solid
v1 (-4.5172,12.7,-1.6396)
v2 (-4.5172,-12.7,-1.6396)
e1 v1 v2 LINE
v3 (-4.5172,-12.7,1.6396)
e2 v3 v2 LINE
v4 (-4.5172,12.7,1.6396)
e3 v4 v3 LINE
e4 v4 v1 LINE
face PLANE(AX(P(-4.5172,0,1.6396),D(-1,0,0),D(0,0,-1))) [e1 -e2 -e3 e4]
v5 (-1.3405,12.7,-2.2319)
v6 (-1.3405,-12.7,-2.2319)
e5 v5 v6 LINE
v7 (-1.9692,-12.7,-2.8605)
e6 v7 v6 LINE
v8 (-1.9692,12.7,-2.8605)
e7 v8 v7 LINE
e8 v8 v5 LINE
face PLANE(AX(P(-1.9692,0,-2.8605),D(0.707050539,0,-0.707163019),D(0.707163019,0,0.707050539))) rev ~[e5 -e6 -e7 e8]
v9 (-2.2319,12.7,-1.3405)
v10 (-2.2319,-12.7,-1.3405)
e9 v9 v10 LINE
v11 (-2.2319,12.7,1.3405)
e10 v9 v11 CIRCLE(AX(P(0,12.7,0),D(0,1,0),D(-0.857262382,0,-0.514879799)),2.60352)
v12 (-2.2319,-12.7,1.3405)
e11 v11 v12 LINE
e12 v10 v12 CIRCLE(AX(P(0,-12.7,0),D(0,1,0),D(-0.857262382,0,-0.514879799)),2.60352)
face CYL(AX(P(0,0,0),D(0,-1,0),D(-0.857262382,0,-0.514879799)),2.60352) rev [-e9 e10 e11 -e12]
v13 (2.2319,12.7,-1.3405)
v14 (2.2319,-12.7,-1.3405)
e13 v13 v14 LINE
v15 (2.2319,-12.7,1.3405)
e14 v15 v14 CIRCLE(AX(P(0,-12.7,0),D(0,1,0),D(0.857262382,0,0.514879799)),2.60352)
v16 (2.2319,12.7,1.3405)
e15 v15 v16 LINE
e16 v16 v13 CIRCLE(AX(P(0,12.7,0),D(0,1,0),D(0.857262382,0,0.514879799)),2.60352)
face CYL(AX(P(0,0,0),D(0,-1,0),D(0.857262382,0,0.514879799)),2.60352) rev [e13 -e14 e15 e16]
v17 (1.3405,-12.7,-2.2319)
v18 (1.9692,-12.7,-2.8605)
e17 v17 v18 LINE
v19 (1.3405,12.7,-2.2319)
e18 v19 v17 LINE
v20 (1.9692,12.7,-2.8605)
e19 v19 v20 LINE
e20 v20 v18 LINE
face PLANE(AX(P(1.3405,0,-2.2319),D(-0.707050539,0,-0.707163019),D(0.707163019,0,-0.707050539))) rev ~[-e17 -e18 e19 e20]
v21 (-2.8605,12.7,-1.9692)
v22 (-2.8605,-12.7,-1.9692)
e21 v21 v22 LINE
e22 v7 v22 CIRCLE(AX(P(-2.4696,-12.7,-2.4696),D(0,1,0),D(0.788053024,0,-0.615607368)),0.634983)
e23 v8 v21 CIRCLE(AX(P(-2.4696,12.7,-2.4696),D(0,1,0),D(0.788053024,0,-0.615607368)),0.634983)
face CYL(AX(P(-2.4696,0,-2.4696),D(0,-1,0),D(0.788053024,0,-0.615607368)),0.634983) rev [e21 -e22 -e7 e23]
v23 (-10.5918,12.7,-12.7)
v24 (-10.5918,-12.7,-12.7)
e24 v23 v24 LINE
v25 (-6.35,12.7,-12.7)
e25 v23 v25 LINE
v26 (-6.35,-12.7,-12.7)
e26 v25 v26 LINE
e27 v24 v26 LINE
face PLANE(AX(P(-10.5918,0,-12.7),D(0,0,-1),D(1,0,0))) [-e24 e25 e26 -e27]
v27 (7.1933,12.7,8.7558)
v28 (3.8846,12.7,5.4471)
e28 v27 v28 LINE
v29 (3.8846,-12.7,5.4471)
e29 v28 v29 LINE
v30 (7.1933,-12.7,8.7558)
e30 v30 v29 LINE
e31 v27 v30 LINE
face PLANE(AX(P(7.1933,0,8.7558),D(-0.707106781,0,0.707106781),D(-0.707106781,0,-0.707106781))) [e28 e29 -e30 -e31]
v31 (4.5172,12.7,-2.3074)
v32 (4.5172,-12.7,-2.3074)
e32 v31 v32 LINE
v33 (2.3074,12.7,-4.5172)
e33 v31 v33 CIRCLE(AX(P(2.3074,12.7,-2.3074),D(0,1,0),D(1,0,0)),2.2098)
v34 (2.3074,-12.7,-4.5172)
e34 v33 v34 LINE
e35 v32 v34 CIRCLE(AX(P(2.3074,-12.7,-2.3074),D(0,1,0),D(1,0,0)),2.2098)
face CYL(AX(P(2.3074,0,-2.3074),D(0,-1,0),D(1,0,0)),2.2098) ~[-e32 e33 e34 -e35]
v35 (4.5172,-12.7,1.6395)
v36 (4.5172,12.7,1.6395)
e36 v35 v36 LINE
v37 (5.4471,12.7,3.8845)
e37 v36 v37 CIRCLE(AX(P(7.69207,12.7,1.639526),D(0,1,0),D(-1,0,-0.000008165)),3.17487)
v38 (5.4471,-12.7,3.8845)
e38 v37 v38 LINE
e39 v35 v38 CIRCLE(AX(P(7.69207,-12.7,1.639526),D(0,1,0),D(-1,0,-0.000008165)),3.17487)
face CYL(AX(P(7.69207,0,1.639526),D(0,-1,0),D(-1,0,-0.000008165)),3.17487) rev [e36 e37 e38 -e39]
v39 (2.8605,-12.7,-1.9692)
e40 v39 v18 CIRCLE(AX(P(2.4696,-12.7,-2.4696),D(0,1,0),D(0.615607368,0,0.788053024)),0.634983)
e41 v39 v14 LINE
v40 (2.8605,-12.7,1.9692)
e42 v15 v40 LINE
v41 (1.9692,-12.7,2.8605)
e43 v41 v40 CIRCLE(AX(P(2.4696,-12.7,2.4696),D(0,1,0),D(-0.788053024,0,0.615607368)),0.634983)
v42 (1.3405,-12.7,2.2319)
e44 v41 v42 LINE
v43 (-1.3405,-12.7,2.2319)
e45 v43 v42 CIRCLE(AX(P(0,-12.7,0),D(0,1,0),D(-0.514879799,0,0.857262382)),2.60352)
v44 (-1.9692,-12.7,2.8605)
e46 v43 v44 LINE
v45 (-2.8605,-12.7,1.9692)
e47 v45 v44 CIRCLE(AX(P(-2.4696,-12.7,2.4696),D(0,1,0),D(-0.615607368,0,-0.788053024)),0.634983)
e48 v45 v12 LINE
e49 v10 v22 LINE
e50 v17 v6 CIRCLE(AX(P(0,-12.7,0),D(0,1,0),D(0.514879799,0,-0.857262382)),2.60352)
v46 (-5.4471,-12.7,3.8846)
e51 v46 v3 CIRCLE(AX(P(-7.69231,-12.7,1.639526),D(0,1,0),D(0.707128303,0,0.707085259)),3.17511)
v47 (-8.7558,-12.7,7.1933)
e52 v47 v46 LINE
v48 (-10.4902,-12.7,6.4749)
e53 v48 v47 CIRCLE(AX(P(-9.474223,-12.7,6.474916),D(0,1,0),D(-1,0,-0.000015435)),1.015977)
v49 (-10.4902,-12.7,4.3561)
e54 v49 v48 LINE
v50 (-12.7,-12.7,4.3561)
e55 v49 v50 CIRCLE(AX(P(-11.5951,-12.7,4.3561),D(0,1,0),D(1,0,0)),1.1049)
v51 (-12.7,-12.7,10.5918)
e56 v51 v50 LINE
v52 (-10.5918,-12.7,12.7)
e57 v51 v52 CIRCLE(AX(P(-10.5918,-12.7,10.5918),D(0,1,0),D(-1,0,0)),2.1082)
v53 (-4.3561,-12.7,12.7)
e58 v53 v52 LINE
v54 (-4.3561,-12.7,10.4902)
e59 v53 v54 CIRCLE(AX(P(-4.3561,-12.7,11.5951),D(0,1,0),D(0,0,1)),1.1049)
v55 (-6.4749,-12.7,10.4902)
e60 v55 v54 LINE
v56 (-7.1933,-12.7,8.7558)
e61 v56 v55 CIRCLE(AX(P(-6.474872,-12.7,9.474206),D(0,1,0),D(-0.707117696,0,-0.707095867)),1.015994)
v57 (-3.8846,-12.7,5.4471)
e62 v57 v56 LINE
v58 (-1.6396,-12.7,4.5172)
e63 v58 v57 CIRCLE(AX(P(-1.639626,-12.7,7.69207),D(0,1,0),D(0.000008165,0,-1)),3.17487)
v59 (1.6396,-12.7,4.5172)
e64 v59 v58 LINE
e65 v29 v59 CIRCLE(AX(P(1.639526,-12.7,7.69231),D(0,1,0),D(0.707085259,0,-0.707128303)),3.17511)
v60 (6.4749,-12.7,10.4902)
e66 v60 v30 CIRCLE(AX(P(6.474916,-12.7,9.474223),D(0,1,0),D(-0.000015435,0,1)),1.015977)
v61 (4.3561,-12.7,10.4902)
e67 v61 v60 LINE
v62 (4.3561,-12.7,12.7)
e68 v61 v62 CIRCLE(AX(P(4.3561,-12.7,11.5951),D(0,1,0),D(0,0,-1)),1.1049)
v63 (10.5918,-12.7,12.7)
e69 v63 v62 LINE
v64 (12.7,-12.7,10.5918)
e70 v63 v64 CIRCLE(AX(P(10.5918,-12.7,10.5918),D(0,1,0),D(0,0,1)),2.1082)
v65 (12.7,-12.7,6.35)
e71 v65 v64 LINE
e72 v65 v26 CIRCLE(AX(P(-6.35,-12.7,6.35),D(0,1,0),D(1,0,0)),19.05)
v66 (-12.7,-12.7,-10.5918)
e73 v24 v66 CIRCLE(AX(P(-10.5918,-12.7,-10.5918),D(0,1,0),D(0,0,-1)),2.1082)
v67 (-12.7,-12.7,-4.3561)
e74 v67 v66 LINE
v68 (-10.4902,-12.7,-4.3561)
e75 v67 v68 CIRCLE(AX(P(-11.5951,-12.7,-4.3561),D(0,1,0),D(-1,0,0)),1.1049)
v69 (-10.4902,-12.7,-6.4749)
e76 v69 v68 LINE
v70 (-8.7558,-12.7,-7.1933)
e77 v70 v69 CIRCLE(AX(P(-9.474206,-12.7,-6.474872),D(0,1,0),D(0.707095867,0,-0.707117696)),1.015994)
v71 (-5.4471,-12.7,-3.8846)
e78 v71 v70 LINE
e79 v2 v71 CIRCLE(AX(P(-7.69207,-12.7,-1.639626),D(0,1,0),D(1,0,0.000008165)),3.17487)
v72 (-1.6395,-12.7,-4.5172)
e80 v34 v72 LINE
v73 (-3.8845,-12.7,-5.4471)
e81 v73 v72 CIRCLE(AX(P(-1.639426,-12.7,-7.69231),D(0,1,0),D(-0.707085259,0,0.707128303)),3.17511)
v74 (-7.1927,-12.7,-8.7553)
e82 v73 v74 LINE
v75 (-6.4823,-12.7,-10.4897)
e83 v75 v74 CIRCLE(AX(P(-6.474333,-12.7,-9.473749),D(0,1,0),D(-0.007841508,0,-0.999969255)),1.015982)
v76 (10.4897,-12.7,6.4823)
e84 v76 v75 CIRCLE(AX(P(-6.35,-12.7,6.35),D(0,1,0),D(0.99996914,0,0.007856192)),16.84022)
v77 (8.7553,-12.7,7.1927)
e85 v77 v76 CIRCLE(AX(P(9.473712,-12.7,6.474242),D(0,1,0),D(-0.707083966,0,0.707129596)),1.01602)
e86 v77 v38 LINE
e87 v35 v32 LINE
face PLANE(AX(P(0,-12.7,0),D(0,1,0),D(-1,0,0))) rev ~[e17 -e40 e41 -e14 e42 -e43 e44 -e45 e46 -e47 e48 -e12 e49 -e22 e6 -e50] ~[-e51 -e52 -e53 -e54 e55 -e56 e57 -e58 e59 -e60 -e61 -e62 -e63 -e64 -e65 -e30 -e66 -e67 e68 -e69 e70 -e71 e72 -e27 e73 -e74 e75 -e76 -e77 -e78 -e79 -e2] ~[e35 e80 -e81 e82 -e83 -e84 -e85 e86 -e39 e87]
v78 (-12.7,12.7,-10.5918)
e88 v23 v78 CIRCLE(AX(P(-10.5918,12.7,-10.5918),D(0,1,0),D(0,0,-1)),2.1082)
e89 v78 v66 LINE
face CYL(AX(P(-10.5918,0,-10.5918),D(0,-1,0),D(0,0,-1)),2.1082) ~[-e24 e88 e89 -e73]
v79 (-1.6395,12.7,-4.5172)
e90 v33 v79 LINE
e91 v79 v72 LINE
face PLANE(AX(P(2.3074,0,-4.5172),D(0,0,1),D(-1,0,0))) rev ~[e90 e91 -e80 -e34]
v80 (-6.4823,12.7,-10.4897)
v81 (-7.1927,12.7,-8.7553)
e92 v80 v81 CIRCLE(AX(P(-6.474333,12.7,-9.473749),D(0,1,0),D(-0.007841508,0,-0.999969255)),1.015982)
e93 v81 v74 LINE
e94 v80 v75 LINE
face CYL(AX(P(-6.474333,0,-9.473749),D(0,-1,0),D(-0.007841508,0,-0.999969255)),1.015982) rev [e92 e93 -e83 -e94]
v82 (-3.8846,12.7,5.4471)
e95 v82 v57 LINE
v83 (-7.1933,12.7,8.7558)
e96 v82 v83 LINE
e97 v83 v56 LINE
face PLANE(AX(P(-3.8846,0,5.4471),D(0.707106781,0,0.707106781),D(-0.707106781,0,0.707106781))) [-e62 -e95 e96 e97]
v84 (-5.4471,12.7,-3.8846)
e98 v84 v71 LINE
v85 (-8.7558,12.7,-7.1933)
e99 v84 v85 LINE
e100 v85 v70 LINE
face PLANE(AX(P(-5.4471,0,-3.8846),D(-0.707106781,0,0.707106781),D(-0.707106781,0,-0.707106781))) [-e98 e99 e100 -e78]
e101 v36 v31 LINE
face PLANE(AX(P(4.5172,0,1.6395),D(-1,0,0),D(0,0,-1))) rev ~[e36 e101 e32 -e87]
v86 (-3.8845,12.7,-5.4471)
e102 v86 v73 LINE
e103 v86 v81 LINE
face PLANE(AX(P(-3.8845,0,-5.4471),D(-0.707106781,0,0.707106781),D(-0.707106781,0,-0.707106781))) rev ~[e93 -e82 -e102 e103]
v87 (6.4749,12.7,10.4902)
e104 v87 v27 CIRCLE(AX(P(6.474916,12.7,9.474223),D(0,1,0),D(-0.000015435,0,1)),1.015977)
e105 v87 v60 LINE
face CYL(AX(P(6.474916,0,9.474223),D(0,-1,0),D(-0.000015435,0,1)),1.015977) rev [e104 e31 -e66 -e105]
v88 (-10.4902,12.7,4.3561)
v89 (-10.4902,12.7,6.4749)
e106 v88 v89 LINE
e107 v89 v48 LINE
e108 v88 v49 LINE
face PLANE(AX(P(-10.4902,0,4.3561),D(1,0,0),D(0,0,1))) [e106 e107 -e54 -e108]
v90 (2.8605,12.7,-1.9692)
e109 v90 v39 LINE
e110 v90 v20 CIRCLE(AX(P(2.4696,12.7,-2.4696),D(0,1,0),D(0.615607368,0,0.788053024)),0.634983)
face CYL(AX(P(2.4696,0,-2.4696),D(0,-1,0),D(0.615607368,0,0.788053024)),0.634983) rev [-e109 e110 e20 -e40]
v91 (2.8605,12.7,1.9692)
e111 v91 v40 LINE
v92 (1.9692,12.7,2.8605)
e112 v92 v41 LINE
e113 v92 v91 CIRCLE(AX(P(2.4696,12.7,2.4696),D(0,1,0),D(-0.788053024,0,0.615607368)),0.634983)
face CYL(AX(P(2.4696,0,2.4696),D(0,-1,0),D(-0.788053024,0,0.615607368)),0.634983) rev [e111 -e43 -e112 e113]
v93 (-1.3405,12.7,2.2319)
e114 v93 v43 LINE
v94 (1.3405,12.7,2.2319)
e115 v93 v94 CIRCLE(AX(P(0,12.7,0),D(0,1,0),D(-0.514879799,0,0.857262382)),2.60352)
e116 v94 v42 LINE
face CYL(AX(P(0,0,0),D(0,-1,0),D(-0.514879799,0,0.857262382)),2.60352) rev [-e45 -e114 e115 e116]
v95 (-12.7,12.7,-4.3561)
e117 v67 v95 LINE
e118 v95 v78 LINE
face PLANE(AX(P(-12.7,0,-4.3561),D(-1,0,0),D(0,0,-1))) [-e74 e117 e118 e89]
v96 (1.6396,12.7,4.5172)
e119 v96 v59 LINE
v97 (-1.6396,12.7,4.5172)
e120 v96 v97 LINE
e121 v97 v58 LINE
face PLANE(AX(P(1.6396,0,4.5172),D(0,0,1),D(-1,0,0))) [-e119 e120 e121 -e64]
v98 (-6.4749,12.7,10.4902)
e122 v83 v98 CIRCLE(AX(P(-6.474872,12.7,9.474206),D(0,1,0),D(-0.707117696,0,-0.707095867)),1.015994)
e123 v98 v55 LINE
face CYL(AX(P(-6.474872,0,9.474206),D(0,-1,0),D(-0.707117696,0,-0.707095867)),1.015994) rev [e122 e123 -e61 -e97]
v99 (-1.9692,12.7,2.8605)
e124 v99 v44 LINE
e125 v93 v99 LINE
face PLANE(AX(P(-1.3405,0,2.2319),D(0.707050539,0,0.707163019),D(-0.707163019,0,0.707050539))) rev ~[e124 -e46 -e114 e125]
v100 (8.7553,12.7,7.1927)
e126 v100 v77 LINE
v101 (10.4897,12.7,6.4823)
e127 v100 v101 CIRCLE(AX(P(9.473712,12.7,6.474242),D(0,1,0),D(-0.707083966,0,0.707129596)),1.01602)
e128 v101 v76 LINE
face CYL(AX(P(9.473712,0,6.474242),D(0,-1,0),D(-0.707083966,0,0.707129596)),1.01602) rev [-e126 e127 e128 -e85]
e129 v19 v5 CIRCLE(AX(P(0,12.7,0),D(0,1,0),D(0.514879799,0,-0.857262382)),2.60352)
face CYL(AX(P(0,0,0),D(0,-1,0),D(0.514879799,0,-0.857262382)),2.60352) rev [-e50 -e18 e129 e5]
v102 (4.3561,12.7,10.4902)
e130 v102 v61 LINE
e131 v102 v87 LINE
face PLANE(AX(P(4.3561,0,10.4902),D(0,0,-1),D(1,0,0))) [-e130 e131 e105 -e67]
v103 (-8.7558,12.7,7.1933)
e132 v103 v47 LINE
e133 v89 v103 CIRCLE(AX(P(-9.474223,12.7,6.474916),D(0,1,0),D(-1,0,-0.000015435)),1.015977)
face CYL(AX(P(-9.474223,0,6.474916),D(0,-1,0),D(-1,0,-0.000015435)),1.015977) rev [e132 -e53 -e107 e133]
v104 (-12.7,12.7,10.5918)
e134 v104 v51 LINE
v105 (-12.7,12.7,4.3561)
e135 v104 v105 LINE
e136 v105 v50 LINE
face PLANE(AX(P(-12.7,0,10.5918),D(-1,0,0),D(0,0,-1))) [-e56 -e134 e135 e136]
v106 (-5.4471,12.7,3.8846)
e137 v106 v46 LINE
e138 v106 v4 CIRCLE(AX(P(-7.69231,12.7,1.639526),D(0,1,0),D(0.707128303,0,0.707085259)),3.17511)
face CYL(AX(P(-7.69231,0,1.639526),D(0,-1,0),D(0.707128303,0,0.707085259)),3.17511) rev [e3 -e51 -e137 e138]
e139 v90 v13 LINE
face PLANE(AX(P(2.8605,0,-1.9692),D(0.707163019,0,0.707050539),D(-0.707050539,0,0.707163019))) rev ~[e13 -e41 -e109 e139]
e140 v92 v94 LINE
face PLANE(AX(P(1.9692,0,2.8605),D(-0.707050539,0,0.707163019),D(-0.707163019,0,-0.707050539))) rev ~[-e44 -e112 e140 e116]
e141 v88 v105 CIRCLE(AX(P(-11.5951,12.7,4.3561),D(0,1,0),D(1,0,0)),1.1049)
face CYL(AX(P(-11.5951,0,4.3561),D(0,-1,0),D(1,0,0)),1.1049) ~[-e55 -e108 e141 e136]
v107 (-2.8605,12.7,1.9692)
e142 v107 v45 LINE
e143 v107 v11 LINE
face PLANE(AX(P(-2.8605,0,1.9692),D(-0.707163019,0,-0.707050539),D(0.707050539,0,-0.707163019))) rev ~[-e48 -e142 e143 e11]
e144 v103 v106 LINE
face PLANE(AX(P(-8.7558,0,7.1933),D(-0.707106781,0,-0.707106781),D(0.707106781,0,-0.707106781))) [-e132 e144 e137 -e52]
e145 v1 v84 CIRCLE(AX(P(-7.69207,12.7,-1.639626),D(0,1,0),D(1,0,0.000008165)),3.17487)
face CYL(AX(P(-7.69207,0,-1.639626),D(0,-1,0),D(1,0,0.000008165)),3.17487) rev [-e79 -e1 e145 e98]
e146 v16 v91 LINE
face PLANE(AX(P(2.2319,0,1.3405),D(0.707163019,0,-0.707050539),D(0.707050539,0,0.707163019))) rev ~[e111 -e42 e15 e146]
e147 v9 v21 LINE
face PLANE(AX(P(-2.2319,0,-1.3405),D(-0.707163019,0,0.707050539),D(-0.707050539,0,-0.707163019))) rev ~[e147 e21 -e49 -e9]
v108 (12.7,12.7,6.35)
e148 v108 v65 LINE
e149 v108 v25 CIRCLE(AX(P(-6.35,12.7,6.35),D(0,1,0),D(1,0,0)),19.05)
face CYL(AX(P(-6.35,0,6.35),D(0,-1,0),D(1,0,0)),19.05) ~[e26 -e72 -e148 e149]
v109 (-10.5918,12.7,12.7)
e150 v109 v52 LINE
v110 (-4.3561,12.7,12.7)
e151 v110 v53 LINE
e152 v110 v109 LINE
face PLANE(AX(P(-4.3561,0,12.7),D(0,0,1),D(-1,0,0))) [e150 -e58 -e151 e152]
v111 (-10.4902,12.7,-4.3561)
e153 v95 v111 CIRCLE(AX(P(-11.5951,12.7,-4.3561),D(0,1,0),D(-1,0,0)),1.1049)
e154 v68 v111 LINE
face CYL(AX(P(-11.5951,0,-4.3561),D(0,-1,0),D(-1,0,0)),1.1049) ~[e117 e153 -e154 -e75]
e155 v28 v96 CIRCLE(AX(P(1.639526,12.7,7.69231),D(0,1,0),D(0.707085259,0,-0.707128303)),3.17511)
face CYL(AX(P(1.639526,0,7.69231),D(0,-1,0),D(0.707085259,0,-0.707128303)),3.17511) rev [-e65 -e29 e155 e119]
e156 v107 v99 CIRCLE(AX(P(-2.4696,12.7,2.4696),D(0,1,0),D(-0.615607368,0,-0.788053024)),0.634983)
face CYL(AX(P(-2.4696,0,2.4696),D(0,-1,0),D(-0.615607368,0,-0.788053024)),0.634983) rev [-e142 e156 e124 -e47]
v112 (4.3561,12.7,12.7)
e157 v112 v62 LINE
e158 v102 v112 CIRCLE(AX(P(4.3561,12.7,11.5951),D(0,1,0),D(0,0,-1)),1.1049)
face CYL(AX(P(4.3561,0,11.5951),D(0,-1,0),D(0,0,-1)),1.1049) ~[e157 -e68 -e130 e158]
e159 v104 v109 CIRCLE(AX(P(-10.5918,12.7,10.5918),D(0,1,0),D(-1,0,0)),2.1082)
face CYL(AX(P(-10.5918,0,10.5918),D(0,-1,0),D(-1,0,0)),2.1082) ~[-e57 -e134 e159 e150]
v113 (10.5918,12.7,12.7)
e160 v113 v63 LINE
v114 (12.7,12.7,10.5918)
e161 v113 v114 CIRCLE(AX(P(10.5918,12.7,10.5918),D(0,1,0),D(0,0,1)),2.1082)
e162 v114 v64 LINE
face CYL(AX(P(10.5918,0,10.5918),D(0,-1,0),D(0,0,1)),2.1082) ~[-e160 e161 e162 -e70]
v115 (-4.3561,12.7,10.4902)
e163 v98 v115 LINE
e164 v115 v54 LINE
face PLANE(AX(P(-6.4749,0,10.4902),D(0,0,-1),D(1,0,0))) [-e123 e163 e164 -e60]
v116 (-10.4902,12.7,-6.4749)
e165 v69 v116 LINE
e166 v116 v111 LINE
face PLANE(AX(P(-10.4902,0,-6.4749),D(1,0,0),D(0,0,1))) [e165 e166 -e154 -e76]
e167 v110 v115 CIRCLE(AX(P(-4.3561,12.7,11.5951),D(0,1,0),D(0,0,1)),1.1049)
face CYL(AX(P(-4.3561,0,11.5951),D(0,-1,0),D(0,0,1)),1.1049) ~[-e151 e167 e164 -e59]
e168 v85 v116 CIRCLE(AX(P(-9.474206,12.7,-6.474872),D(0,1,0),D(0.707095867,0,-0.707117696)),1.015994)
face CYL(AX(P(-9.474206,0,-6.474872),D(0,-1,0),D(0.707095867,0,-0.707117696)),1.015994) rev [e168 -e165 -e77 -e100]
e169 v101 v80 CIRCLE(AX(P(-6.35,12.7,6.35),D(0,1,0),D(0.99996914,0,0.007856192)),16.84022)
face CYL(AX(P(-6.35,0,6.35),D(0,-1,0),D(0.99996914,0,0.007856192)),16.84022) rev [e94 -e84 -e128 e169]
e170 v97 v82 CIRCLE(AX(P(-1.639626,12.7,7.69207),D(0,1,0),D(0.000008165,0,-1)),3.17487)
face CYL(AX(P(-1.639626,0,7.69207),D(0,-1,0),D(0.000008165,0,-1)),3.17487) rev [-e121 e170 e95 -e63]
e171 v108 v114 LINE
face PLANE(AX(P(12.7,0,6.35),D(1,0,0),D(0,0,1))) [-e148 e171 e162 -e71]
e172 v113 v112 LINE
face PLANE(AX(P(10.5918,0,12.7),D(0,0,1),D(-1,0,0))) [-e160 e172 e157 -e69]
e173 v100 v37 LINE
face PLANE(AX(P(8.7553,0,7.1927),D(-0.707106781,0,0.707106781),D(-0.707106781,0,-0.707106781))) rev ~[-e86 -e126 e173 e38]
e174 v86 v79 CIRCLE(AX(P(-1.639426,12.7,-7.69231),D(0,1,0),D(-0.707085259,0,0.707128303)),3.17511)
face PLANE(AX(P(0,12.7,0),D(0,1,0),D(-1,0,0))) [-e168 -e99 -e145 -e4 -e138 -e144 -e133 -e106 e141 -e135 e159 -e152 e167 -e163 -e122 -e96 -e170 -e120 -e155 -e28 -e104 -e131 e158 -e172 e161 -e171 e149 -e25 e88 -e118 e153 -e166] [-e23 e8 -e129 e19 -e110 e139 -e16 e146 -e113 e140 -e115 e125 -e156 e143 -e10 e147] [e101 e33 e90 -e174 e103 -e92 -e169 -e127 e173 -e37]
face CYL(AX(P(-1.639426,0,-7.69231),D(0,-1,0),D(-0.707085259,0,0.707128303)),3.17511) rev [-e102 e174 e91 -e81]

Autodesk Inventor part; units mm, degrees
ref_plane "YZ Plane" through (0, 0, 0) normal (1, 0, 0) x (0, 1, 0)
ref_plane "XZ Plane" through (0, 0, 0) normal (0, 1, 0) x (-1, 0, 0)
ref_plane "XY Plane" through (0, 0, 0) normal (0, 0, 1) x (1, 0, 0)
sketch "Sketch1" plane through (0, 0, 0) normal (0, 1, 0) x (-1, 0, 0)
  arc A0 (-4.5172, 1.6395) -> (-5.4471, 3.8845) centre (-7.6922, 1.6395) ccw
  line L0 (-8.7553, 7.1927) -> (-5.4471, 3.8845)
  arc A1 (-8.7553, 7.1927) -> (-10.4897, 6.4823) centre (-9.4737, 6.4743) ccw
  arc A2 (-10.4897, 6.4823) -> (6.4823, -10.4897) centre (6.35, 6.35) ccw
  arc A3 (6.4823, -10.4897) -> (7.1927, -8.7553) centre (6.4743, -9.4737) ccw
  line L1 (3.8845, -5.4471) -> (7.1927, -8.7553)
  arc A4 (3.8845, -5.4471) -> (1.6395, -4.5172) centre (1.6395, -7.6922) ccw
  line L2 (-2.3074, -4.5172) -> (1.6395, -4.5172)
  arc A5 (-4.5172, -2.3074) -> (-2.3074, -4.5172) centre (-2.3074, -2.3074) ccw
  line L3 (-4.5172, 1.6395) -> (-4.5172, -2.3074)
  arc A6 (-2.2319, 1.3405) -> (-2.2319, -1.3405) centre (0, 0) ccw
  line L4 (-2.8605, -1.9692) -> (-2.2319, -1.3405)
  arc A7 (-2.8605, -1.9692) -> (-1.9692, -2.8605) centre (-2.4696, -2.4696) ccw
  line L5 (-1.3405, -2.2319) -> (-1.9692, -2.8605)
  arc A8 (-1.3405, -2.2319) -> (1.3405, -2.2319) centre (0, 0) ccw
  line L6 (1.9692, -2.8605) -> (1.3405, -2.2319)
  arc A9 (1.9692, -2.8605) -> (2.8605, -1.9692) centre (2.4696, -2.4696) ccw
  line L7 (2.2319, -1.3405) -> (2.8605, -1.9692)
  arc A10 (2.2319, -1.3405) -> (2.2319, 1.3405) centre (0, 0) ccw
  line L8 (2.8605, 1.9692) -> (2.2319, 1.3405)
  arc A11 (2.8605, 1.9692) -> (1.9692, 2.8605) centre (2.4696, 2.4696) ccw
  line L9 (1.3405, 2.2319) -> (1.9692, 2.8605)
  arc A12 (1.3405, 2.2319) -> (-1.3405, 2.2319) centre (0, 0) ccw
  line L10 (-1.9692, 2.8605) -> (-1.3405, 2.2319)
  arc A13 (-1.9692, 2.8605) -> (-2.8605, 1.9692) centre (-2.4696, 2.4696) ccw
  line L11 (-2.2319, 1.3405) -> (-2.8605, 1.9692)
  arc A14 (12.7, -4.3561) -> (10.4902, -4.3561) centre (11.5951, -4.3561) ccw
  line L12 (12.7, -4.3561) -> (12.7, -10.5918)
  arc A15 (10.5918, -12.7) -> (12.7, -10.5918) centre (10.5918, -10.5918) ccw
  line L13 (10.5918, -12.7) -> (6.35, -12.7)
  arc A16 (-12.7, 6.35) -> (6.35, -12.7) centre (6.35, 6.35) ccw
  line L14 (-12.7, 6.35) -> (-12.7, 10.5918)
  arc A17 (-10.5918, 12.7) -> (-12.7, 10.5918) centre (-10.5918, 10.5918) ccw
  line L15 (-10.5918, 12.7) -> (-4.3561, 12.7)
  arc A18 (-4.3561, 10.4902) -> (-4.3561, 12.7) centre (-4.3561, 11.5951) ccw
  line L16 (-4.3561, 10.4902) -> (-6.4749, 10.4902)
  arc A19 (-6.4749, 10.4902) -> (-7.1933, 8.7558) centre (-6.4749, 9.4742) ccw
  line L17 (-7.1933, 8.7558) -> (-3.8846, 5.4471)
  arc A20 (-3.8846, 5.4471) -> (-1.6396, 4.5172) centre (-1.6396, 7.6922) ccw
  line L18 (-1.6396, 4.5172) -> (1.6396, 4.5172)
  arc A21 (1.6396, 4.5172) -> (3.8846, 5.4471) centre (1.6396, 7.6922) ccw
  line L19 (3.8846, 5.4471) -> (7.1933, 8.7558)
  arc A22 (7.1933, 8.7558) -> (6.4749, 10.4902) centre (6.4749, 9.4742) ccw
  line L20 (6.4749, 10.4902) -> (4.3561, 10.4902)
  arc A23 (4.3561, 12.7) -> (4.3561, 10.4902) centre (4.3561, 11.5951) ccw
  line L21 (4.3561, 12.7) -> (10.5918, 12.7)
  arc A24 (12.7, 10.5918) -> (10.5918, 12.7) centre (10.5918, 10.5918) ccw
  line L22 (12.7, 10.5918) -> (12.7, 4.3561)
  arc A25 (10.4902, 4.3561) -> (12.7, 4.3561) centre (11.5951, 4.3561) ccw
  line L23 (10.4902, 4.3561) -> (10.4902, 6.4749)
  arc A26 (10.4902, 6.4749) -> (8.7558, 7.1933) centre (9.4742, 6.4749) ccw
  line L24 (8.7558, 7.1933) -> (5.4471, 3.8846)
  arc A27 (5.4471, 3.8846) -> (4.5172, 1.6396) centre (7.6922, 1.6396) ccw
  line L25 (4.5172, 1.6396) -> (4.5172, -1.6396)
  arc A28 (4.5172, -1.6396) -> (5.4471, -3.8846) centre (7.6922, -1.6396) ccw
  line L26 (5.4471, -3.8846) -> (8.7558, -7.1933)
  arc A29 (8.7558, -7.1933) -> (10.4902, -6.4749) centre (9.4742, -6.4749) ccw
  line L27 (10.4902, -6.4749) -> (10.4902, -4.3561)
  point P0 (0, 0)
  dimension "d0" = 1.1049
  dimension "d1" = 2.1082
  dimension "d2" = 1.016
  dimension "d3" = 3.175
  dimension "d4" = 19.05
  dimension "d5" = 16.8402
  dimension "d6" = 0.635
  dimension "d7" = 2.6035
  dimension "d8" = 2.6035
  dimension "d9" = 2.6035
  dimension "d10" = 2.6035
  dimension "d11" = 2.2098
  dimension "d12" = 45
  dimension "d13" = 45
  dimension "d14" = 45
  dimension "d15" = 45
  dimension "d16" = 45
  dimension "d17" = 45
  dimension "d18" = 90
  dimension "d19" = 45
  dimension "d20" = 90
  dimension "d21" = 90
  dimension "d22" = 90
  dimension "d23" = 8.1828
  dimension "d24" = 17.2172
  dimension "d25" = 25.4
  dimension "d26" = 25.4
  dimension "d27" = 17.2172
  dimension "d28" = 8.1828
  dimension "d29" = 2.2096
  dimension "d30" = 1.7351
  dimension "d31" = 0.4746
  dimension "d32" = 1.7352
  dimension "d33" = 0.4746
  dimension "d34" = 2.2097
  dimension "d35" = 12.7
  dimension "d36" = 12.7
  dimension "d37" = 10.4902
  dimension "d38" = 12.7
  dimension "d39" = 1.1048
  dimension "d40" = 1.1048
  dimension "d41" = 1.1049
  dimension "d42" = 0.6303
  dimension "d43" = 0.6303
  dimension "d44" = 0.6303
  dimension "d45" = 0.6303
  dimension "d46" = 10.4902
  dimension "d47" = 1.1049
  dimension "d48" = 12.7
  dimension "d49" = 17.0561
  dimension "d50" = 8.3439
  dimension "d51" = 8.3439
  dimension "d52" = 9.8395
  dimension "d53" = 9.8395
  dimension "d54" = 10.2304
  dimension "d55" = 10.2304
  dimension "d56" = 10.4681
  dimension "d57" = 10.4681
  dimension "d58" = 14.6692
  dimension "d59" = 14.6692
  dimension "d60" = 15.1696
  dimension "d61" = 15.1696
  dimension "d62" = 17.0561
extrude "Extrusion1" add sketch "Sketch1" along normal mid plane 25.4
properties part number "1012-S" material "6105-T5"
